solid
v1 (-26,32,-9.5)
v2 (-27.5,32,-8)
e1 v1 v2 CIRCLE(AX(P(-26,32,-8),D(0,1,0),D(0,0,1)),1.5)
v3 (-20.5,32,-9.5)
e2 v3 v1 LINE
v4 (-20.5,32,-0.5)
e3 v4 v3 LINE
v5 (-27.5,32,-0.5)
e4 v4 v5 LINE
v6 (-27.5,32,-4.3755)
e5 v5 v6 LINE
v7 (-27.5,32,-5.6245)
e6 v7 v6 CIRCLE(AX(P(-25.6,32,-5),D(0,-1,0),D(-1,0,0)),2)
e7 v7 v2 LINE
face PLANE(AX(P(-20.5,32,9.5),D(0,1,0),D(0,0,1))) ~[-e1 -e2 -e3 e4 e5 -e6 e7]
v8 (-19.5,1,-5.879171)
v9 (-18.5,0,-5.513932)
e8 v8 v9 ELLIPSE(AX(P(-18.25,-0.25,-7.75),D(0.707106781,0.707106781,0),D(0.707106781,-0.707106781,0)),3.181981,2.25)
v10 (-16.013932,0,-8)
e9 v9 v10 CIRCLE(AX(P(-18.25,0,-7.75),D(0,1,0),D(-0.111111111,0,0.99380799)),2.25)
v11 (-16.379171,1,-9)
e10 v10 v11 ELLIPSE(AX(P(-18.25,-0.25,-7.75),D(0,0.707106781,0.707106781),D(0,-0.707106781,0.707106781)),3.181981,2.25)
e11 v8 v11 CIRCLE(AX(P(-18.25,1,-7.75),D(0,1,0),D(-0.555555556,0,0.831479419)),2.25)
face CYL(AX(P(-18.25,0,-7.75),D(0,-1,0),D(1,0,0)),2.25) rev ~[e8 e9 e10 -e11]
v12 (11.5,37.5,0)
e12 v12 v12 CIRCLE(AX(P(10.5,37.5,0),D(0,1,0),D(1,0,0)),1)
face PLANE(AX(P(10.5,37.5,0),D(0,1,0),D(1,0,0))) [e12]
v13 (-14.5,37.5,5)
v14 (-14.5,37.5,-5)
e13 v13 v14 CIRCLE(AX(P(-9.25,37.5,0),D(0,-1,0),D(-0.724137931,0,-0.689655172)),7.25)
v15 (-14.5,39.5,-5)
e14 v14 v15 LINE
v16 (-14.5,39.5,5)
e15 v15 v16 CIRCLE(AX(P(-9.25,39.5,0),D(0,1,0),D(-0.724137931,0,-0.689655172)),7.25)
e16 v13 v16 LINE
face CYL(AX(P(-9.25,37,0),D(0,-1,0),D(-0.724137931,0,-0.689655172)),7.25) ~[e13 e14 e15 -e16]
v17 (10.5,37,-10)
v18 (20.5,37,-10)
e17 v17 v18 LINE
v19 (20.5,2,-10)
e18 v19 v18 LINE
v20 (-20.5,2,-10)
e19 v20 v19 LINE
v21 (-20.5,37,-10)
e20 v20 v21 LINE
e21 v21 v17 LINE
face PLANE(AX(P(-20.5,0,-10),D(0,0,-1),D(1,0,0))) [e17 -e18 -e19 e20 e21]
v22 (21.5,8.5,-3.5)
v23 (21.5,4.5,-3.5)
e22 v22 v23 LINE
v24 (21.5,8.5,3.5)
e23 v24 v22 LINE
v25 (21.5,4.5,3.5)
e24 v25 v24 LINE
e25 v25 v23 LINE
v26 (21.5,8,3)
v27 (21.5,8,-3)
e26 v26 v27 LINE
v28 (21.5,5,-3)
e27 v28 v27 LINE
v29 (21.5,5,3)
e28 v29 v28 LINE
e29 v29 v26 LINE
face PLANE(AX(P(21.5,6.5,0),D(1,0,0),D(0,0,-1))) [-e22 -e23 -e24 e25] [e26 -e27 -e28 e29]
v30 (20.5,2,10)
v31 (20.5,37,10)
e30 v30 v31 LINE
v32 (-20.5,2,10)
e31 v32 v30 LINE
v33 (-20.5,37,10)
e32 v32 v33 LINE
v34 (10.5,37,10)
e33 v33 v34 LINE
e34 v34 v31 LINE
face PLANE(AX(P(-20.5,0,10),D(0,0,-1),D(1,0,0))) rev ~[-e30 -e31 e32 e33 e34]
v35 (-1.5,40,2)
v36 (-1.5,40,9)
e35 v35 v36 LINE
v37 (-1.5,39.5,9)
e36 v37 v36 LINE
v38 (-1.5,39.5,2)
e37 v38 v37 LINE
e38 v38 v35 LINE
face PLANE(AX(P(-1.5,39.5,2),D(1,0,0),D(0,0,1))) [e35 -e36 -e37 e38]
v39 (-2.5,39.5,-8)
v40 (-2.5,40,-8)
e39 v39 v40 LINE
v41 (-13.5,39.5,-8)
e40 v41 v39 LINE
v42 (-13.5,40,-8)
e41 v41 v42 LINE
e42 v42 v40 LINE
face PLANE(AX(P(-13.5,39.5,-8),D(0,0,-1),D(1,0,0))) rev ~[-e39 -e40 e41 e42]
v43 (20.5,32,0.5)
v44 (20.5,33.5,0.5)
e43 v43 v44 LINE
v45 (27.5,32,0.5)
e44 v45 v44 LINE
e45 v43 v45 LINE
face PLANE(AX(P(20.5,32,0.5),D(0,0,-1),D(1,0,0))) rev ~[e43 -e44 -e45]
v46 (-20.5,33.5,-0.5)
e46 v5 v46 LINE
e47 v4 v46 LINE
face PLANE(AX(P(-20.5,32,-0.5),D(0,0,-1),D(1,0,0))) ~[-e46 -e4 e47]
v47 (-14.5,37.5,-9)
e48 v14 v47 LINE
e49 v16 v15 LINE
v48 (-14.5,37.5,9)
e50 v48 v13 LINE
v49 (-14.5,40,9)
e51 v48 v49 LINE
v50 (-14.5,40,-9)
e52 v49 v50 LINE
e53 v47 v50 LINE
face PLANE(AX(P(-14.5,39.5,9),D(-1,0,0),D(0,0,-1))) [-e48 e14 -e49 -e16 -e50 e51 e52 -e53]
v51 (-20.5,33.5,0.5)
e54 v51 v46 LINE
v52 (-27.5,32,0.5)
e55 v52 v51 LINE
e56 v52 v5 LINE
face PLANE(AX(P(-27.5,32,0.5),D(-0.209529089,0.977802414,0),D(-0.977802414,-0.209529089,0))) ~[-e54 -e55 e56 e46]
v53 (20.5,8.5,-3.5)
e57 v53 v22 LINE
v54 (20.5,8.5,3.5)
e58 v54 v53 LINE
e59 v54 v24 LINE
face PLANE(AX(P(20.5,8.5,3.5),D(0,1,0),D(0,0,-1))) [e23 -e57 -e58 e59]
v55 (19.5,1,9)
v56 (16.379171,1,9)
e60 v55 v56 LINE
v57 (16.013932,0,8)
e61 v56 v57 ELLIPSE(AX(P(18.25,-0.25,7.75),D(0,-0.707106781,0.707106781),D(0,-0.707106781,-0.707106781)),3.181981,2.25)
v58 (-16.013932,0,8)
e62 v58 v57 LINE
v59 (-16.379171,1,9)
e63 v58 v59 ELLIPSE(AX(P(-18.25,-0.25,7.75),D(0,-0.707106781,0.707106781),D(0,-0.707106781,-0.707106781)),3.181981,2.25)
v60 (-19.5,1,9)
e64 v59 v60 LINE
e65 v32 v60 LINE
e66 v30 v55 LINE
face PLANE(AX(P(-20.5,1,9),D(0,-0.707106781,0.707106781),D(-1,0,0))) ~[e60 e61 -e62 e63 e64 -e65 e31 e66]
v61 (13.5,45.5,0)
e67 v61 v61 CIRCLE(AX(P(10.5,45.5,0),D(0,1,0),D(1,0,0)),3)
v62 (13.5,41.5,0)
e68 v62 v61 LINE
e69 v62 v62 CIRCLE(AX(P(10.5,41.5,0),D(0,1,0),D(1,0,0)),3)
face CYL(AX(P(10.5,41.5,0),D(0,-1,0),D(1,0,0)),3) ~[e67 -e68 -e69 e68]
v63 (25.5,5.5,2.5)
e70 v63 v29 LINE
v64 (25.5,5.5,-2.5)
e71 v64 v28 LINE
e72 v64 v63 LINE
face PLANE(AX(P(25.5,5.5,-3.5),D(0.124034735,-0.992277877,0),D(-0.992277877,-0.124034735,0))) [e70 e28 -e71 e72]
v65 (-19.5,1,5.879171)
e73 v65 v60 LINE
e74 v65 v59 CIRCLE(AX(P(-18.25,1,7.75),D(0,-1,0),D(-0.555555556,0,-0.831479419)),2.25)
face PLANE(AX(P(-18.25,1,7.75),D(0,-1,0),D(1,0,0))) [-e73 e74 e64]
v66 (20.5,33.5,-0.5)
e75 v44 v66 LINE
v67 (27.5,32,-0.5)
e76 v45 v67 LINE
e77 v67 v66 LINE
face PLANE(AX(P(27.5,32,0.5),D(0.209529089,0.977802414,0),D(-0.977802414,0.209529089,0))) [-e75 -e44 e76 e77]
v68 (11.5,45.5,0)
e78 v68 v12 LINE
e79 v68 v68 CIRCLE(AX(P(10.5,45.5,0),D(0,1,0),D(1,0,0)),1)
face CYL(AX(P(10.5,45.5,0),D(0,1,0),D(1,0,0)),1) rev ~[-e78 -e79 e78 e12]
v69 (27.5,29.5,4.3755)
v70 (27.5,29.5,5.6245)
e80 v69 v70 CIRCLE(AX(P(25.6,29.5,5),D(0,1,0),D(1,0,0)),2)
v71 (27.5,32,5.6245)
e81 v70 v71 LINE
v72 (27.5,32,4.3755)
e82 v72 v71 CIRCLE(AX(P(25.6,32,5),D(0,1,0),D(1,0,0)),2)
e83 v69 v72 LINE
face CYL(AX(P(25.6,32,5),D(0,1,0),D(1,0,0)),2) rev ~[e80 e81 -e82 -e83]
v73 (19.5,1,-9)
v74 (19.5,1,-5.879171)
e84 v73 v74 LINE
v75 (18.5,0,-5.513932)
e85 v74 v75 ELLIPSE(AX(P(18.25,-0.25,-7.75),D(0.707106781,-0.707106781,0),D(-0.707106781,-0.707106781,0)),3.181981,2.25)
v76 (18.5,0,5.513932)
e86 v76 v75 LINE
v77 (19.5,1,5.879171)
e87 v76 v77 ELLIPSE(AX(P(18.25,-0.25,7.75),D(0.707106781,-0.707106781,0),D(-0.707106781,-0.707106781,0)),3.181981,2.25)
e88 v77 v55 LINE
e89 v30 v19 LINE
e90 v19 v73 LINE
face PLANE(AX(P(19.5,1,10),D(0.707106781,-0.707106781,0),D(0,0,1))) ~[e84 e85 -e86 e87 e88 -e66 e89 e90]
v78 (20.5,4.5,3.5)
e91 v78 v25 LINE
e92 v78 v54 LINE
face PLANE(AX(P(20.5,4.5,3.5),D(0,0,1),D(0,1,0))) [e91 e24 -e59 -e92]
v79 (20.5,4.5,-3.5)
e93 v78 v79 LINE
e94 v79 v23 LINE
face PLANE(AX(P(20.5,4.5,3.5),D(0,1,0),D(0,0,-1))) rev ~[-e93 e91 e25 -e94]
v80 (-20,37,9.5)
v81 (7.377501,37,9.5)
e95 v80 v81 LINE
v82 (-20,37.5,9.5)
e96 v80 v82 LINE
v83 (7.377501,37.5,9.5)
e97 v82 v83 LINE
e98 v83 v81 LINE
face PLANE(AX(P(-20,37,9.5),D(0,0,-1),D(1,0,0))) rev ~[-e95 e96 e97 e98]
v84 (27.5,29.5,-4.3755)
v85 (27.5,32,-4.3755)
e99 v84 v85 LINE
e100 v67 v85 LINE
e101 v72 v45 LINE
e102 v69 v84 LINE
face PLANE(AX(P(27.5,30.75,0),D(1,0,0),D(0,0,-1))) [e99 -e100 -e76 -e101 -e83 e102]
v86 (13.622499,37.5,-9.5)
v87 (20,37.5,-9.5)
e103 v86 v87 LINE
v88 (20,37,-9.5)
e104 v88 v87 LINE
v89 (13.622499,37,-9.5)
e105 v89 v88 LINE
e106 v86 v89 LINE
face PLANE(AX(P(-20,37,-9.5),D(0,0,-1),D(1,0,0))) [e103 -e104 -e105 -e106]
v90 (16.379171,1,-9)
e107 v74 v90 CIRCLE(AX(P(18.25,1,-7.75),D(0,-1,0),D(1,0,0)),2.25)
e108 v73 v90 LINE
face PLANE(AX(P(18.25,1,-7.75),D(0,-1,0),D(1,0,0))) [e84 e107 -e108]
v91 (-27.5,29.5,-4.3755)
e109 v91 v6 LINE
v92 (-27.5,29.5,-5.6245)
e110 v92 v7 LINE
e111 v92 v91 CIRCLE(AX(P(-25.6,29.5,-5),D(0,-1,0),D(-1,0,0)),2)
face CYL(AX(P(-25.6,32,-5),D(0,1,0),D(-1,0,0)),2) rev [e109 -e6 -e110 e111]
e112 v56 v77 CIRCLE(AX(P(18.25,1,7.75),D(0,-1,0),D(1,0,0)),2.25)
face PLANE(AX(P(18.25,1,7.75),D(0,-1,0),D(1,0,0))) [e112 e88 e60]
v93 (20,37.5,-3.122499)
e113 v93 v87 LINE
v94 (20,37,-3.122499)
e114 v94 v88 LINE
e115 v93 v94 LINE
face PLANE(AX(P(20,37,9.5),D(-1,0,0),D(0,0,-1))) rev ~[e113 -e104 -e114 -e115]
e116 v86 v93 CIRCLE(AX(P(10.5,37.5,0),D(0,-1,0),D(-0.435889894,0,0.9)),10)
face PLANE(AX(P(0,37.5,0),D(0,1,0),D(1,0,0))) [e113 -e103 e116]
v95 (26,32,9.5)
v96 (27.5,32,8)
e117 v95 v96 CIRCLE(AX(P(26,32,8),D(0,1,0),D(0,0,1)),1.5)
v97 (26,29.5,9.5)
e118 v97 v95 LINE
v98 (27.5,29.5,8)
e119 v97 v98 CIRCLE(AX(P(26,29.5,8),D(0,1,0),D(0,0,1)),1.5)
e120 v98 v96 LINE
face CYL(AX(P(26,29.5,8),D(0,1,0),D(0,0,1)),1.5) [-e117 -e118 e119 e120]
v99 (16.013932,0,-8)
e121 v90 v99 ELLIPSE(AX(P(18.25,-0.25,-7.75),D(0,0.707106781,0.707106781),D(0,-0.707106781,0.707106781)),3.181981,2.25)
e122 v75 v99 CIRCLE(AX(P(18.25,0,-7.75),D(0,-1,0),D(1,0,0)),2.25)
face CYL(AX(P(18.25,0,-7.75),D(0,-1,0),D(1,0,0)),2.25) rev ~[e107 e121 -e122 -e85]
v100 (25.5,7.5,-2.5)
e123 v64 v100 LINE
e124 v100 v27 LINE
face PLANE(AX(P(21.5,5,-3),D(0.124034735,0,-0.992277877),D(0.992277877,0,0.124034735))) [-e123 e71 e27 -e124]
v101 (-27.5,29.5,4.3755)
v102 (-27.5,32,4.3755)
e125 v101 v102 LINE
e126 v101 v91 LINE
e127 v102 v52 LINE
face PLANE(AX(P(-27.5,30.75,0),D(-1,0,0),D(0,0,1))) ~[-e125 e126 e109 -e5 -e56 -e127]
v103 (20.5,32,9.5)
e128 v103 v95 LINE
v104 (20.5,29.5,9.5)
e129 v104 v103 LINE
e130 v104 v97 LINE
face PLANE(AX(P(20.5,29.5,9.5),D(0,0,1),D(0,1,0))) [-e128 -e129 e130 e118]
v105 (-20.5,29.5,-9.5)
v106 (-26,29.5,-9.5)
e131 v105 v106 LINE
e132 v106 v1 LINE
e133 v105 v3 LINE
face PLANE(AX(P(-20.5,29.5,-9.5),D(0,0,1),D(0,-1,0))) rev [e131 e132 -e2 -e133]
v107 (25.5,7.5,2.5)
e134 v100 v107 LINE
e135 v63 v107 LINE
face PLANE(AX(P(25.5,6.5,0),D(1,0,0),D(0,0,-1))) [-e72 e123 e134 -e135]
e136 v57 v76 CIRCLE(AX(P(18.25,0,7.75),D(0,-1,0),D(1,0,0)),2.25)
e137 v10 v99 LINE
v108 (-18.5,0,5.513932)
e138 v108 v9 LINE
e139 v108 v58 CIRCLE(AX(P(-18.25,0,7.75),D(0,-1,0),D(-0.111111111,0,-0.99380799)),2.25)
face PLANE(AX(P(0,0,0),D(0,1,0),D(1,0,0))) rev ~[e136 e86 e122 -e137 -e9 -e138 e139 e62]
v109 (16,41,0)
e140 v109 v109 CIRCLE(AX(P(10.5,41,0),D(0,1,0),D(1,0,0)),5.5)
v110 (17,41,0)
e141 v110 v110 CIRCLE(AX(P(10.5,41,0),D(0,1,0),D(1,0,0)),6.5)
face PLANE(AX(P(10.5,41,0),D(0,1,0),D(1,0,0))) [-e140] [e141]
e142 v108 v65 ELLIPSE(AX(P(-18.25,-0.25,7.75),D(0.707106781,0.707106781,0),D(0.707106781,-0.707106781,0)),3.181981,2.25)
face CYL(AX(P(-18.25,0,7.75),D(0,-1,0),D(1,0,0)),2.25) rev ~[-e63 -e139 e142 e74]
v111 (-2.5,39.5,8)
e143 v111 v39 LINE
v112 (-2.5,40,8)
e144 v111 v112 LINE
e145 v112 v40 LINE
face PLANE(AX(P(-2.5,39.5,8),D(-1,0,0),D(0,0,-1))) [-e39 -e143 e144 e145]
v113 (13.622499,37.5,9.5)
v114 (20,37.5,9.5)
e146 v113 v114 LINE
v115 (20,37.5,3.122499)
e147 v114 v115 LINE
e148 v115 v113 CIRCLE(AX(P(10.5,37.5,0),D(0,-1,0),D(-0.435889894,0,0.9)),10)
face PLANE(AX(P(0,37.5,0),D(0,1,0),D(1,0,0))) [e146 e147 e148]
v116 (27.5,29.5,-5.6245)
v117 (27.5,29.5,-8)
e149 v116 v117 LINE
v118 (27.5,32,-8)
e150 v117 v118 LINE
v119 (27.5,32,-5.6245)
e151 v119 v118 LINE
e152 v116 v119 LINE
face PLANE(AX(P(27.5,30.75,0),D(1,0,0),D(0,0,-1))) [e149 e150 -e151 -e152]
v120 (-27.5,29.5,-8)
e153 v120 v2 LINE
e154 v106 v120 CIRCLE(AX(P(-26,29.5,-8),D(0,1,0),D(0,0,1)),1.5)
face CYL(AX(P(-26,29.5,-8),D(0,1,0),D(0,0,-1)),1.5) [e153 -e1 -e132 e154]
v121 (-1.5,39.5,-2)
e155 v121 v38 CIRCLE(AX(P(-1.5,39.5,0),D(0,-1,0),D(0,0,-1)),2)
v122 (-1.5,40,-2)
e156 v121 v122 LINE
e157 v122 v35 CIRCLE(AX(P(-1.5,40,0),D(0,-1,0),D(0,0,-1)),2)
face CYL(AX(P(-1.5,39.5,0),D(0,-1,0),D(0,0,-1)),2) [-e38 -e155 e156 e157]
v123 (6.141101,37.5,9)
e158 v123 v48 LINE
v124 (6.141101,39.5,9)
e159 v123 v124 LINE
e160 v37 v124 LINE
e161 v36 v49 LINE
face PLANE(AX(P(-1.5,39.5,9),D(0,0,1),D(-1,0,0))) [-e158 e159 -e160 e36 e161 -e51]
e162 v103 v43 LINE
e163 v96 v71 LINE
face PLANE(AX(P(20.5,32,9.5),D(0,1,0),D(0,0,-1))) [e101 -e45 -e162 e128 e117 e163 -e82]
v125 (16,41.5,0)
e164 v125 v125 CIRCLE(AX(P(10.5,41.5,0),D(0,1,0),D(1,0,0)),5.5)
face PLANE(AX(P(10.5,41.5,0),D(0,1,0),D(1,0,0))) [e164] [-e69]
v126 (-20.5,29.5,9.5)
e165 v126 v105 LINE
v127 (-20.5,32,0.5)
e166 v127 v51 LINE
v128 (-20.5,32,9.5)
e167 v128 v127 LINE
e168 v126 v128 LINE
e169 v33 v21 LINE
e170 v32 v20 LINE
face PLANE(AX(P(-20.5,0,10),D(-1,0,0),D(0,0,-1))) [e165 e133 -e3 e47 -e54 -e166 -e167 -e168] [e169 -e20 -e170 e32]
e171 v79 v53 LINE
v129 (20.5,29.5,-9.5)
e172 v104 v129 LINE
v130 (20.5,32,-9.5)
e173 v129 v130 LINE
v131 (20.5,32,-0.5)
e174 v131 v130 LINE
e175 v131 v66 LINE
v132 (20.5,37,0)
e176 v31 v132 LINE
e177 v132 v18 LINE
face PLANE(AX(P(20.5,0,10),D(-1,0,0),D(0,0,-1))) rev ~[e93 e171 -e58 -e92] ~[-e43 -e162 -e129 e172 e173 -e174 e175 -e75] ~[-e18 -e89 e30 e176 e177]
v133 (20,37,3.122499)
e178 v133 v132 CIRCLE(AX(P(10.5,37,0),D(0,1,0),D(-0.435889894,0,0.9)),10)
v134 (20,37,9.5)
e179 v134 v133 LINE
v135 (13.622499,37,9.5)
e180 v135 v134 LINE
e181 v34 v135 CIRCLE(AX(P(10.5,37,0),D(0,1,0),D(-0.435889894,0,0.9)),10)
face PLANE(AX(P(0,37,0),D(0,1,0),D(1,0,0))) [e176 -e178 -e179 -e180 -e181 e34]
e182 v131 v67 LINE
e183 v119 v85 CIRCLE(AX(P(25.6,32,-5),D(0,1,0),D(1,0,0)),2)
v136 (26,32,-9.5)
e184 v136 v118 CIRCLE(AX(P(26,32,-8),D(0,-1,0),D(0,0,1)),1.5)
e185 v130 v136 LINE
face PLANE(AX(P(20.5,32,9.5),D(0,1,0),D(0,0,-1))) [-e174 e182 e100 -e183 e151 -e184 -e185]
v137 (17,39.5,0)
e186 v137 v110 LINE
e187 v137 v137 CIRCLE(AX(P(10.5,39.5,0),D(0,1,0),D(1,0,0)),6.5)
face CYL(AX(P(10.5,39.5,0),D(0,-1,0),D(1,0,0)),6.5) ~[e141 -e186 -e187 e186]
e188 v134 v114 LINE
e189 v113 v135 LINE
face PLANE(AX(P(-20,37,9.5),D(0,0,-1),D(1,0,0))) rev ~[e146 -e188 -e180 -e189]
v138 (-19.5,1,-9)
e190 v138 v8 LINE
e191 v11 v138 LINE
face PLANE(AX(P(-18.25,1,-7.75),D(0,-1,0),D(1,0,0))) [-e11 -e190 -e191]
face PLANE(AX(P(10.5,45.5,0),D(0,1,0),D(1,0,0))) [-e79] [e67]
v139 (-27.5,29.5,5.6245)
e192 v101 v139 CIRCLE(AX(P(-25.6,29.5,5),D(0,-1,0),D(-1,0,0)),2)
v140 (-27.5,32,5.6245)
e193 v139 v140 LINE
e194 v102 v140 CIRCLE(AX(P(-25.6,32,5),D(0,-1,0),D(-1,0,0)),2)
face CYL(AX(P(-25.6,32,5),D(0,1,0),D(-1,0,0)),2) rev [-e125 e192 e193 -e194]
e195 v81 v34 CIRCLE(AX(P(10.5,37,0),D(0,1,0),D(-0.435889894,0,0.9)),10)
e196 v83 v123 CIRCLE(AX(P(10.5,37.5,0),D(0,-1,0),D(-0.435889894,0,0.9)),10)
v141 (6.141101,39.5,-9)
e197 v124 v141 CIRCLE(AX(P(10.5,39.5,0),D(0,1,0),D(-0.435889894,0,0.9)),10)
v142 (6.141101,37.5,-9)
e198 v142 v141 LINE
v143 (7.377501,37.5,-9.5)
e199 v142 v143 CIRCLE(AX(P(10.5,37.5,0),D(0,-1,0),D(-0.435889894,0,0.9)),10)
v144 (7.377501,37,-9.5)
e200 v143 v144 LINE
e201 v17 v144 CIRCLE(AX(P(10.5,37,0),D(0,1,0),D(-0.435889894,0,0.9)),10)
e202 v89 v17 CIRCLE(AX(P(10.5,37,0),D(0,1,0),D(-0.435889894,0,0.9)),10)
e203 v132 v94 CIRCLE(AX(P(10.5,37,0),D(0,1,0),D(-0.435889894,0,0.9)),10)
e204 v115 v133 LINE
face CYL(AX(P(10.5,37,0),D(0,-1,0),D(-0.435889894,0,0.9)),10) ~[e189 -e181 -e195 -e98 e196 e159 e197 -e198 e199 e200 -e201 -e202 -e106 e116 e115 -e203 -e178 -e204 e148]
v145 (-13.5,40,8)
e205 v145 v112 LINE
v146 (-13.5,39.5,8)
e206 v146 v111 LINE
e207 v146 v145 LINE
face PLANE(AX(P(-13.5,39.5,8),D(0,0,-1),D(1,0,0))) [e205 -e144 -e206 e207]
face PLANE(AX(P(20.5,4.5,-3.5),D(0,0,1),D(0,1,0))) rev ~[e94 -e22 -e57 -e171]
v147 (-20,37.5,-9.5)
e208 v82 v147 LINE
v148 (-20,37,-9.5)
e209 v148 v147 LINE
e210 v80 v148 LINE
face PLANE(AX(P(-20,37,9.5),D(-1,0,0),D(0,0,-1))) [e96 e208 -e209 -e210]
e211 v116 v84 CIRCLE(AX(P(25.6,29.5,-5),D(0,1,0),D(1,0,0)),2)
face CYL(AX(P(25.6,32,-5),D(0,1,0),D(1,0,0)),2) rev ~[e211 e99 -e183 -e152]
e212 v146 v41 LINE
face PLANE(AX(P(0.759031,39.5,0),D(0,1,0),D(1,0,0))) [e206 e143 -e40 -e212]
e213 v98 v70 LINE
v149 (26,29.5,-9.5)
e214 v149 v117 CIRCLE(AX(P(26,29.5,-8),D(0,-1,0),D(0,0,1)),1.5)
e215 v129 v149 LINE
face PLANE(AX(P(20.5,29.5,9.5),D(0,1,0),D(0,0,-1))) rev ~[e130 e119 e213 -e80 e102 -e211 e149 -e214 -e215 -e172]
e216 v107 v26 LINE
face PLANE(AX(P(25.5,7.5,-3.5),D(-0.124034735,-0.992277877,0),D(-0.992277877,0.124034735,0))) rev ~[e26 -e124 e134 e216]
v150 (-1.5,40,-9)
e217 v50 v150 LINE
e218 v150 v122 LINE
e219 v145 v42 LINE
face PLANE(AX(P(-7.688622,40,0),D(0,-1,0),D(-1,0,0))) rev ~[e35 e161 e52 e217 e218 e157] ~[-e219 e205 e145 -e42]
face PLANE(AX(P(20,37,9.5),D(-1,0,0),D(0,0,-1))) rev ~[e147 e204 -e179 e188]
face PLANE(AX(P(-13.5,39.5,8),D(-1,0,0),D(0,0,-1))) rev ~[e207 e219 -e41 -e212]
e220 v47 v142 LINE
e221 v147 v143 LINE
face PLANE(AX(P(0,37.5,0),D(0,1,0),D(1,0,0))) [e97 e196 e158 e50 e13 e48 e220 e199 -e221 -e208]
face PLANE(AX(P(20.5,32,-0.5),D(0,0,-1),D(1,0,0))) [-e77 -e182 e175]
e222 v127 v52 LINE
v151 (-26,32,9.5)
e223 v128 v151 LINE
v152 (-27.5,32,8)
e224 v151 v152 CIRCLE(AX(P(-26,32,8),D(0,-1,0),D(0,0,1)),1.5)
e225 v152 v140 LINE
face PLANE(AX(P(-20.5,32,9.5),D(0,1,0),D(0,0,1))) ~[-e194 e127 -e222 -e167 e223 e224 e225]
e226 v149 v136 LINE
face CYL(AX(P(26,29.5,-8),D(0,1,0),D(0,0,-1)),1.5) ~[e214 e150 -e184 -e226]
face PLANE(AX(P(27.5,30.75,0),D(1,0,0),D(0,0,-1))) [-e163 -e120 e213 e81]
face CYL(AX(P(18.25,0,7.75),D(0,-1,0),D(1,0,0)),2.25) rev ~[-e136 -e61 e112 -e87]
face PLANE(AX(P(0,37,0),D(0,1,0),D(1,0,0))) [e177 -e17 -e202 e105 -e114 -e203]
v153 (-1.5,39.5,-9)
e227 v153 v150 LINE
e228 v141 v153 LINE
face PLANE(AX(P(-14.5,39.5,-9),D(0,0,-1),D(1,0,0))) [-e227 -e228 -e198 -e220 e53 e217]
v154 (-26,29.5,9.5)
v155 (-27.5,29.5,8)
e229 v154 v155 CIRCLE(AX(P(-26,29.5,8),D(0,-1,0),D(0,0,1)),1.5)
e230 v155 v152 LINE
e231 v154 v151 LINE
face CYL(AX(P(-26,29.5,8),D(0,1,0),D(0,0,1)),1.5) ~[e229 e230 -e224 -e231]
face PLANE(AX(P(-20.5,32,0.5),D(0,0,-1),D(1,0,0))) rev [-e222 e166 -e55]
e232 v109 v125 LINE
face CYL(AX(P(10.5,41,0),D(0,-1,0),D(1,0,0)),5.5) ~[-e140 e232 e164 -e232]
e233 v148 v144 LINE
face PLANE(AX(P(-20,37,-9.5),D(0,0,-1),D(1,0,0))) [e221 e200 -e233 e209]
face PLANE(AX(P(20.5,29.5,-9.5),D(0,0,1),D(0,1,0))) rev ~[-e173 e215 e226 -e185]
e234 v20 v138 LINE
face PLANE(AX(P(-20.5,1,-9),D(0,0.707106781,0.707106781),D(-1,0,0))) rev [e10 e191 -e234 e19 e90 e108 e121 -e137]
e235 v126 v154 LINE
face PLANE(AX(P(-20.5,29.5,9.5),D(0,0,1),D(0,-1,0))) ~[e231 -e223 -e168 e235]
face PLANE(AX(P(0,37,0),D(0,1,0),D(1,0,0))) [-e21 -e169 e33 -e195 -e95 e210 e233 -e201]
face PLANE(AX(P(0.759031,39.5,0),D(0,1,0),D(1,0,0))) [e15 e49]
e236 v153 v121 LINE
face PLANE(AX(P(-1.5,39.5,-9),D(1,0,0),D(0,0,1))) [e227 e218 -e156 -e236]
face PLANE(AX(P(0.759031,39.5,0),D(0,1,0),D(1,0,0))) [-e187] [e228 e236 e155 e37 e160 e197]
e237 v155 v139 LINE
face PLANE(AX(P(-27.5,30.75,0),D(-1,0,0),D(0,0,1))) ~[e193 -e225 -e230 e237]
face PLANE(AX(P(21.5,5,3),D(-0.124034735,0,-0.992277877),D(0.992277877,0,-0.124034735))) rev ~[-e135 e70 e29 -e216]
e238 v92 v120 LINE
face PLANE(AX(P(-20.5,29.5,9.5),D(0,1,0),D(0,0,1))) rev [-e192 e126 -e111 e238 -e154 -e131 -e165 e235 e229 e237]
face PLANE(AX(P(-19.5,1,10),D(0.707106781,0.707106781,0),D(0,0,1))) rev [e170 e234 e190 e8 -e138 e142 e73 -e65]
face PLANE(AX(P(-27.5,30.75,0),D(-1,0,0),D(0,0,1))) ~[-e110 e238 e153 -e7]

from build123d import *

# Parameters (mm, degrees)
SKETCH1_W            = 41
SKETCH1_H            = 20
BOSS_EXTRUDE1_DEPTH  = 40
CHAMFER1_SIZE        = 2
SKETCH2_R            = 2.25
CUT_EXTRUDE1_DEPTH   = 1
SKETCH3_W            = 19
SKETCH3_H            = 2.5
BOSS_EXTRUDE2_DEPTH  = 7
FILLET1_R            = 1.5
SKETCH4_W            = 7
SKETCH4_H            = 1
BOSS_EXTRUDE3_DEPTH  = 1.5
CUT_EXTRUDE2_DEPTH   = 1
SKETCH6_R            = 2
CUT_EXTRUDE3_DEPTH   = 2.5
FILLET1_OF_MIRROR1_R = 1.5
SKETCH7_W            = 41
SKETCH7_H            = 20
CUT_EXTRUDE4_DEPTH   = 3
SKETCH8_W            = 40
SKETCH8_H            = 19
BOSS_EXTRUDE4_DEPTH  = 0.5
BOSS_EXTRUDE6_DEPTH  = 2.5
SKETCH10_W           = 11
SKETCH10_H           = 16
BOSS_EXTRUDE7_DEPTH  = 0.5
SKETCH11_R           = 6.5
BOSS_EXTRUDE8_DEPTH  = 1.5
SKETCH12_R           = 5.5
BOSS_EXTRUDE9_DEPTH  = 0.5
SKETCH13_R           = 3
BOSS_EXTRUDE10_DEPTH = 4
SKETCH14_R           = 1
CUT_EXTRUDE5_DEPTH   = 8
SKETCH15_W           = 7
SKETCH15_H           = 4
BOSS_EXTRUDE11_DEPTH = 5
SKETCH16_W           = 7
SKETCH16_H           = 4
SKETCH16_W_2         = 6
SKETCH16_H_2         = 3
CUT_EXTRUDE6_DEPTH   = 4
CUT_EXTRUDE7_DEPTH   = 3
CUT_EXTRUDE8_DEPTH   = 7


with BuildPart() as part:
    # Sketch1 → Boss-Extrude1 (new body)
    with BuildSketch(Plane(origin=(0, 0, 0), x_dir=(1, 0, 0), z_dir=(0, 1, 0))):
        Rectangle(SKETCH1_W, SKETCH1_H)
    extrude(amount=BOSS_EXTRUDE1_DEPTH)

    # Chamfer1
    chamfer1_edges = [part.edges().sort_by_distance(p)[0] for p in [
        (0, 0, 10),
        (-20.5, 0, 0),
        (0, 0, -10),
        (20.5, 0, 0),
    ]]
    chamfer(chamfer1_edges, length=CHAMFER1_SIZE)

    # Sketch2 → Cut-Extrude1 (cut)
    with BuildSketch(Plane.XZ):
        with Locations((18.25, 7.75)):
            Circle(SKETCH2_R)
        with Locations((-18.25, 7.75)):
            Circle(SKETCH2_R)
        with Locations((-18.25, -7.75)):
            Circle(SKETCH2_R)
        with Locations((18.25, -7.75)):
            Circle(SKETCH2_R)
    extrude(amount=-CUT_EXTRUDE1_DEPTH, mode=Mode.SUBTRACT)

    # Sketch3 → Boss-Extrude2 (add)
    with BuildSketch(Plane(origin=(20.5, 0, 0), x_dir=(0, 0, -1), z_dir=(1, 0, 0))):
        with Locations((0, 30.75)):
            Rectangle(SKETCH3_W, SKETCH3_H)
    boss_extrude2 = extrude(amount=BOSS_EXTRUDE2_DEPTH)

    # Fillet1
    fillet1_edges = [part.edges().sort_by_distance(p)[0] for p in [
        (27.5, 30.75, 9.5),
        (27.5, 30.75, -9.5),
    ]]
    fillet(fillet1_edges, radius=FILLET1_R)

    # Sketch4 → Boss-Extrude3 (add)
    with BuildSketch(Plane(origin=(0, 32, 0), x_dir=(1, 0, 0), z_dir=(0, 1, 0))):
        with Locations((24, 0)):
            Rectangle(SKETCH4_W, SKETCH4_H)
    boss_extrude3 = extrude(amount=BOSS_EXTRUDE3_DEPTH)

    # Sketch5 → Cut-Extrude2 (cut)
    with BuildSketch(Plane.XY.offset(0.5)):
        Polygon((27.5, 33.5), (27.5, 32), (20.5, 33.5), align=None)
    cut_extrude2 = extrude(amount=-CUT_EXTRUDE2_DEPTH, mode=Mode.SUBTRACT)

    # Sketch6 → Cut-Extrude3 (cut)
    with BuildSketch(Plane(origin=(0, 32, 0), x_dir=(1, 0, 0), z_dir=(0, 1, 0))):
        with Locations((25.6, 5)):
            Circle(SKETCH6_R)
        with Locations((25.6, -5)):
            Circle(SKETCH6_R)
    cut_extrude3 = extrude(amount=-CUT_EXTRUDE3_DEPTH, mode=Mode.SUBTRACT)

    # Mirror1: Boss-Extrude2, Boss-Extrude3, Cut-Extrude2, Cut-Extrude3 across plane
    add(boss_extrude2.mirror(Plane(origin=(0, 0, 0), x_dir=(0, 0, 1), z_dir=(1, 0, 0))))
    add(boss_extrude3.mirror(Plane(origin=(0, 0, 0), x_dir=(0, 0, 1), z_dir=(1, 0, 0))))
    add(cut_extrude2.mirror(Plane(origin=(0, 0, 0), x_dir=(0, 0, 1), z_dir=(1, 0, 0))), mode=Mode.SUBTRACT)
    add(cut_extrude3.mirror(Plane(origin=(0, 0, 0), x_dir=(0, 0, 1), z_dir=(1, 0, 0))), mode=Mode.SUBTRACT)

    # Fillet1 of Mirror1
    fillet1_of_mirror1_edges = [part.edges().sort_by_distance(p)[0] for p in [
        (-27.5, 30.75, 9.5),
        (-27.5, 30.75, -9.5),
    ]]
    fillet(fillet1_of_mirror1_edges, radius=FILLET1_OF_MIRROR1_R)

    # Sketch7 → Cut-Extrude4 (cut)
    with BuildSketch(Plane(origin=(0, 40, 0), x_dir=(1, 0, 0), z_dir=(0, 1, 0))):
        Rectangle(SKETCH7_W, SKETCH7_H)
    extrude(amount=-CUT_EXTRUDE4_DEPTH, mode=Mode.SUBTRACT)

    # Sketch8 → Boss-Extrude4 (add)
    with BuildSketch(Plane(origin=(0, 37, 0), x_dir=(1, 0, 0), z_dir=(0, 1, 0))):
        Rectangle(SKETCH8_W, SKETCH8_H)
    extrude(amount=BOSS_EXTRUDE4_DEPTH)

    # Sketch9 → Boss-Extrude6 (add)
    with BuildSketch(Plane(origin=(0, 37, 0), x_dir=(1, 0, 0), z_dir=(0, 1, 0))):
        with BuildLine():
            Line((6.141101056, 9), (-14.5, 9))
            Line((-14.5, 9), (-14.5, 5))
            ThreePointArc((-14.5, 5), (-16.5, 0), (-14.5, -5))
            Line((-14.5, -5), (-14.5, -9))
            Line((-14.5, -9), (6.141101056, -9))
            ThreePointArc((6.141101056, -9), (20.5, 0), (6.141101056, 9))
        make_face()
    extrude(amount=BOSS_EXTRUDE6_DEPTH)

    # Sketch10 → Boss-Extrude7 (add)
    with BuildSketch(Plane(origin=(0, 39.5, 0), x_dir=(1, 0, 0), z_dir=(0, 1, 0))):
        with BuildLine():
            Line((-14.5, 9), (-1.5, 9))
            Line((-1.5, 9), (-1.5, 2))
            ThreePointArc((-1.5, 2), (0.5, 0), (-1.5, -2))
            Line((-1.5, -2), (-1.5, -9))
            Line((-1.5, -9), (-14.5, -9))
            Line((-14.5, -9), (-14.5, 9))
        make_face()
        with Locations((-8, 0)):
            Rectangle(SKETCH10_W, SKETCH10_H, mode=Mode.SUBTRACT)
    extrude(amount=BOSS_EXTRUDE7_DEPTH)

    # Sketch11 → Boss-Extrude8 (add)
    with BuildSketch(Plane(origin=(0, 39.5, 0), x_dir=(1, 0, 0), z_dir=(0, 1, 0))):
        with Locations((10.5, 0)):
            Circle(SKETCH11_R)
    extrude(amount=BOSS_EXTRUDE8_DEPTH)

    # Sketch12 → Boss-Extrude9 (add)
    with BuildSketch(Plane(origin=(0, 41, 0), x_dir=(1, 0, 0), z_dir=(0, 1, 0))):
        with Locations((10.5, 0)):
            Circle(SKETCH12_R)
    extrude(amount=BOSS_EXTRUDE9_DEPTH)

    # Sketch13 → Boss-Extrude10 (add)
    with BuildSketch(Plane(origin=(0, 41.5, 0), x_dir=(1, 0, 0), z_dir=(0, 1, 0))):
        with Locations((10.5, 0)):
            Circle(SKETCH13_R)
    extrude(amount=BOSS_EXTRUDE10_DEPTH)

    # Sketch14 → Cut-Extrude5 (cut)
    with BuildSketch(Plane(origin=(0, 45.5, 0), x_dir=(1, 0, 0), z_dir=(0, 1, 0))):
        with Locations((10.5, 0)):
            Circle(SKETCH14_R)
    extrude(amount=-CUT_EXTRUDE5_DEPTH, mode=Mode.SUBTRACT)

    # Sketch15 → Boss-Extrude11 (add)
    with BuildSketch(Plane(origin=(20.5, 0, 0), x_dir=(0, 0, -1), z_dir=(1, 0, 0))):
        with Locations((0, 6.5)):
            Rectangle(SKETCH15_W, SKETCH15_H)
    extrude(amount=BOSS_EXTRUDE11_DEPTH)

    # Sketch16 → Cut-Extrude6 (cut)
    with BuildSketch(Plane(origin=(25.5, 0, 0), x_dir=(0, 0, -1), z_dir=(1, 0, 0))):
        with Locations((0, 6.5)):
            Rectangle(SKETCH16_W, SKETCH16_H)
        with Locations((0, 6.5)):
            Rectangle(SKETCH16_W_2, SKETCH16_H_2, mode=Mode.SUBTRACT)
    extrude(amount=-CUT_EXTRUDE6_DEPTH, mode=Mode.SUBTRACT)

    # Sketch17 → Cut-Extrude7 (cut)
    with BuildSketch(Plane.XZ.offset(-5)):
        Polygon((21.5, 3), (25.5, 2.5), (25.5, 3), align=None)
        Polygon((21.5, -3), (25.5, -2.5), (25.5, -3), align=None)
    extrude(amount=-CUT_EXTRUDE7_DEPTH, mode=Mode.SUBTRACT)

    # Sketch18 → Cut-Extrude8 (cut)
    with BuildSketch(Plane(origin=(0, 0, -3.5), x_dir=(-1, 0, 0), z_dir=(0, 0, -1))):
        Polygon((-21.5, 8), (-25.5, 8), (-25.5, 7.5), align=None)
        Polygon((-21.5, 5), (-25.5, 5), (-25.5, 5.5), align=None)
    extrude(amount=-CUT_EXTRUDE8_DEPTH, mode=Mode.SUBTRACT)


solid = part.part
